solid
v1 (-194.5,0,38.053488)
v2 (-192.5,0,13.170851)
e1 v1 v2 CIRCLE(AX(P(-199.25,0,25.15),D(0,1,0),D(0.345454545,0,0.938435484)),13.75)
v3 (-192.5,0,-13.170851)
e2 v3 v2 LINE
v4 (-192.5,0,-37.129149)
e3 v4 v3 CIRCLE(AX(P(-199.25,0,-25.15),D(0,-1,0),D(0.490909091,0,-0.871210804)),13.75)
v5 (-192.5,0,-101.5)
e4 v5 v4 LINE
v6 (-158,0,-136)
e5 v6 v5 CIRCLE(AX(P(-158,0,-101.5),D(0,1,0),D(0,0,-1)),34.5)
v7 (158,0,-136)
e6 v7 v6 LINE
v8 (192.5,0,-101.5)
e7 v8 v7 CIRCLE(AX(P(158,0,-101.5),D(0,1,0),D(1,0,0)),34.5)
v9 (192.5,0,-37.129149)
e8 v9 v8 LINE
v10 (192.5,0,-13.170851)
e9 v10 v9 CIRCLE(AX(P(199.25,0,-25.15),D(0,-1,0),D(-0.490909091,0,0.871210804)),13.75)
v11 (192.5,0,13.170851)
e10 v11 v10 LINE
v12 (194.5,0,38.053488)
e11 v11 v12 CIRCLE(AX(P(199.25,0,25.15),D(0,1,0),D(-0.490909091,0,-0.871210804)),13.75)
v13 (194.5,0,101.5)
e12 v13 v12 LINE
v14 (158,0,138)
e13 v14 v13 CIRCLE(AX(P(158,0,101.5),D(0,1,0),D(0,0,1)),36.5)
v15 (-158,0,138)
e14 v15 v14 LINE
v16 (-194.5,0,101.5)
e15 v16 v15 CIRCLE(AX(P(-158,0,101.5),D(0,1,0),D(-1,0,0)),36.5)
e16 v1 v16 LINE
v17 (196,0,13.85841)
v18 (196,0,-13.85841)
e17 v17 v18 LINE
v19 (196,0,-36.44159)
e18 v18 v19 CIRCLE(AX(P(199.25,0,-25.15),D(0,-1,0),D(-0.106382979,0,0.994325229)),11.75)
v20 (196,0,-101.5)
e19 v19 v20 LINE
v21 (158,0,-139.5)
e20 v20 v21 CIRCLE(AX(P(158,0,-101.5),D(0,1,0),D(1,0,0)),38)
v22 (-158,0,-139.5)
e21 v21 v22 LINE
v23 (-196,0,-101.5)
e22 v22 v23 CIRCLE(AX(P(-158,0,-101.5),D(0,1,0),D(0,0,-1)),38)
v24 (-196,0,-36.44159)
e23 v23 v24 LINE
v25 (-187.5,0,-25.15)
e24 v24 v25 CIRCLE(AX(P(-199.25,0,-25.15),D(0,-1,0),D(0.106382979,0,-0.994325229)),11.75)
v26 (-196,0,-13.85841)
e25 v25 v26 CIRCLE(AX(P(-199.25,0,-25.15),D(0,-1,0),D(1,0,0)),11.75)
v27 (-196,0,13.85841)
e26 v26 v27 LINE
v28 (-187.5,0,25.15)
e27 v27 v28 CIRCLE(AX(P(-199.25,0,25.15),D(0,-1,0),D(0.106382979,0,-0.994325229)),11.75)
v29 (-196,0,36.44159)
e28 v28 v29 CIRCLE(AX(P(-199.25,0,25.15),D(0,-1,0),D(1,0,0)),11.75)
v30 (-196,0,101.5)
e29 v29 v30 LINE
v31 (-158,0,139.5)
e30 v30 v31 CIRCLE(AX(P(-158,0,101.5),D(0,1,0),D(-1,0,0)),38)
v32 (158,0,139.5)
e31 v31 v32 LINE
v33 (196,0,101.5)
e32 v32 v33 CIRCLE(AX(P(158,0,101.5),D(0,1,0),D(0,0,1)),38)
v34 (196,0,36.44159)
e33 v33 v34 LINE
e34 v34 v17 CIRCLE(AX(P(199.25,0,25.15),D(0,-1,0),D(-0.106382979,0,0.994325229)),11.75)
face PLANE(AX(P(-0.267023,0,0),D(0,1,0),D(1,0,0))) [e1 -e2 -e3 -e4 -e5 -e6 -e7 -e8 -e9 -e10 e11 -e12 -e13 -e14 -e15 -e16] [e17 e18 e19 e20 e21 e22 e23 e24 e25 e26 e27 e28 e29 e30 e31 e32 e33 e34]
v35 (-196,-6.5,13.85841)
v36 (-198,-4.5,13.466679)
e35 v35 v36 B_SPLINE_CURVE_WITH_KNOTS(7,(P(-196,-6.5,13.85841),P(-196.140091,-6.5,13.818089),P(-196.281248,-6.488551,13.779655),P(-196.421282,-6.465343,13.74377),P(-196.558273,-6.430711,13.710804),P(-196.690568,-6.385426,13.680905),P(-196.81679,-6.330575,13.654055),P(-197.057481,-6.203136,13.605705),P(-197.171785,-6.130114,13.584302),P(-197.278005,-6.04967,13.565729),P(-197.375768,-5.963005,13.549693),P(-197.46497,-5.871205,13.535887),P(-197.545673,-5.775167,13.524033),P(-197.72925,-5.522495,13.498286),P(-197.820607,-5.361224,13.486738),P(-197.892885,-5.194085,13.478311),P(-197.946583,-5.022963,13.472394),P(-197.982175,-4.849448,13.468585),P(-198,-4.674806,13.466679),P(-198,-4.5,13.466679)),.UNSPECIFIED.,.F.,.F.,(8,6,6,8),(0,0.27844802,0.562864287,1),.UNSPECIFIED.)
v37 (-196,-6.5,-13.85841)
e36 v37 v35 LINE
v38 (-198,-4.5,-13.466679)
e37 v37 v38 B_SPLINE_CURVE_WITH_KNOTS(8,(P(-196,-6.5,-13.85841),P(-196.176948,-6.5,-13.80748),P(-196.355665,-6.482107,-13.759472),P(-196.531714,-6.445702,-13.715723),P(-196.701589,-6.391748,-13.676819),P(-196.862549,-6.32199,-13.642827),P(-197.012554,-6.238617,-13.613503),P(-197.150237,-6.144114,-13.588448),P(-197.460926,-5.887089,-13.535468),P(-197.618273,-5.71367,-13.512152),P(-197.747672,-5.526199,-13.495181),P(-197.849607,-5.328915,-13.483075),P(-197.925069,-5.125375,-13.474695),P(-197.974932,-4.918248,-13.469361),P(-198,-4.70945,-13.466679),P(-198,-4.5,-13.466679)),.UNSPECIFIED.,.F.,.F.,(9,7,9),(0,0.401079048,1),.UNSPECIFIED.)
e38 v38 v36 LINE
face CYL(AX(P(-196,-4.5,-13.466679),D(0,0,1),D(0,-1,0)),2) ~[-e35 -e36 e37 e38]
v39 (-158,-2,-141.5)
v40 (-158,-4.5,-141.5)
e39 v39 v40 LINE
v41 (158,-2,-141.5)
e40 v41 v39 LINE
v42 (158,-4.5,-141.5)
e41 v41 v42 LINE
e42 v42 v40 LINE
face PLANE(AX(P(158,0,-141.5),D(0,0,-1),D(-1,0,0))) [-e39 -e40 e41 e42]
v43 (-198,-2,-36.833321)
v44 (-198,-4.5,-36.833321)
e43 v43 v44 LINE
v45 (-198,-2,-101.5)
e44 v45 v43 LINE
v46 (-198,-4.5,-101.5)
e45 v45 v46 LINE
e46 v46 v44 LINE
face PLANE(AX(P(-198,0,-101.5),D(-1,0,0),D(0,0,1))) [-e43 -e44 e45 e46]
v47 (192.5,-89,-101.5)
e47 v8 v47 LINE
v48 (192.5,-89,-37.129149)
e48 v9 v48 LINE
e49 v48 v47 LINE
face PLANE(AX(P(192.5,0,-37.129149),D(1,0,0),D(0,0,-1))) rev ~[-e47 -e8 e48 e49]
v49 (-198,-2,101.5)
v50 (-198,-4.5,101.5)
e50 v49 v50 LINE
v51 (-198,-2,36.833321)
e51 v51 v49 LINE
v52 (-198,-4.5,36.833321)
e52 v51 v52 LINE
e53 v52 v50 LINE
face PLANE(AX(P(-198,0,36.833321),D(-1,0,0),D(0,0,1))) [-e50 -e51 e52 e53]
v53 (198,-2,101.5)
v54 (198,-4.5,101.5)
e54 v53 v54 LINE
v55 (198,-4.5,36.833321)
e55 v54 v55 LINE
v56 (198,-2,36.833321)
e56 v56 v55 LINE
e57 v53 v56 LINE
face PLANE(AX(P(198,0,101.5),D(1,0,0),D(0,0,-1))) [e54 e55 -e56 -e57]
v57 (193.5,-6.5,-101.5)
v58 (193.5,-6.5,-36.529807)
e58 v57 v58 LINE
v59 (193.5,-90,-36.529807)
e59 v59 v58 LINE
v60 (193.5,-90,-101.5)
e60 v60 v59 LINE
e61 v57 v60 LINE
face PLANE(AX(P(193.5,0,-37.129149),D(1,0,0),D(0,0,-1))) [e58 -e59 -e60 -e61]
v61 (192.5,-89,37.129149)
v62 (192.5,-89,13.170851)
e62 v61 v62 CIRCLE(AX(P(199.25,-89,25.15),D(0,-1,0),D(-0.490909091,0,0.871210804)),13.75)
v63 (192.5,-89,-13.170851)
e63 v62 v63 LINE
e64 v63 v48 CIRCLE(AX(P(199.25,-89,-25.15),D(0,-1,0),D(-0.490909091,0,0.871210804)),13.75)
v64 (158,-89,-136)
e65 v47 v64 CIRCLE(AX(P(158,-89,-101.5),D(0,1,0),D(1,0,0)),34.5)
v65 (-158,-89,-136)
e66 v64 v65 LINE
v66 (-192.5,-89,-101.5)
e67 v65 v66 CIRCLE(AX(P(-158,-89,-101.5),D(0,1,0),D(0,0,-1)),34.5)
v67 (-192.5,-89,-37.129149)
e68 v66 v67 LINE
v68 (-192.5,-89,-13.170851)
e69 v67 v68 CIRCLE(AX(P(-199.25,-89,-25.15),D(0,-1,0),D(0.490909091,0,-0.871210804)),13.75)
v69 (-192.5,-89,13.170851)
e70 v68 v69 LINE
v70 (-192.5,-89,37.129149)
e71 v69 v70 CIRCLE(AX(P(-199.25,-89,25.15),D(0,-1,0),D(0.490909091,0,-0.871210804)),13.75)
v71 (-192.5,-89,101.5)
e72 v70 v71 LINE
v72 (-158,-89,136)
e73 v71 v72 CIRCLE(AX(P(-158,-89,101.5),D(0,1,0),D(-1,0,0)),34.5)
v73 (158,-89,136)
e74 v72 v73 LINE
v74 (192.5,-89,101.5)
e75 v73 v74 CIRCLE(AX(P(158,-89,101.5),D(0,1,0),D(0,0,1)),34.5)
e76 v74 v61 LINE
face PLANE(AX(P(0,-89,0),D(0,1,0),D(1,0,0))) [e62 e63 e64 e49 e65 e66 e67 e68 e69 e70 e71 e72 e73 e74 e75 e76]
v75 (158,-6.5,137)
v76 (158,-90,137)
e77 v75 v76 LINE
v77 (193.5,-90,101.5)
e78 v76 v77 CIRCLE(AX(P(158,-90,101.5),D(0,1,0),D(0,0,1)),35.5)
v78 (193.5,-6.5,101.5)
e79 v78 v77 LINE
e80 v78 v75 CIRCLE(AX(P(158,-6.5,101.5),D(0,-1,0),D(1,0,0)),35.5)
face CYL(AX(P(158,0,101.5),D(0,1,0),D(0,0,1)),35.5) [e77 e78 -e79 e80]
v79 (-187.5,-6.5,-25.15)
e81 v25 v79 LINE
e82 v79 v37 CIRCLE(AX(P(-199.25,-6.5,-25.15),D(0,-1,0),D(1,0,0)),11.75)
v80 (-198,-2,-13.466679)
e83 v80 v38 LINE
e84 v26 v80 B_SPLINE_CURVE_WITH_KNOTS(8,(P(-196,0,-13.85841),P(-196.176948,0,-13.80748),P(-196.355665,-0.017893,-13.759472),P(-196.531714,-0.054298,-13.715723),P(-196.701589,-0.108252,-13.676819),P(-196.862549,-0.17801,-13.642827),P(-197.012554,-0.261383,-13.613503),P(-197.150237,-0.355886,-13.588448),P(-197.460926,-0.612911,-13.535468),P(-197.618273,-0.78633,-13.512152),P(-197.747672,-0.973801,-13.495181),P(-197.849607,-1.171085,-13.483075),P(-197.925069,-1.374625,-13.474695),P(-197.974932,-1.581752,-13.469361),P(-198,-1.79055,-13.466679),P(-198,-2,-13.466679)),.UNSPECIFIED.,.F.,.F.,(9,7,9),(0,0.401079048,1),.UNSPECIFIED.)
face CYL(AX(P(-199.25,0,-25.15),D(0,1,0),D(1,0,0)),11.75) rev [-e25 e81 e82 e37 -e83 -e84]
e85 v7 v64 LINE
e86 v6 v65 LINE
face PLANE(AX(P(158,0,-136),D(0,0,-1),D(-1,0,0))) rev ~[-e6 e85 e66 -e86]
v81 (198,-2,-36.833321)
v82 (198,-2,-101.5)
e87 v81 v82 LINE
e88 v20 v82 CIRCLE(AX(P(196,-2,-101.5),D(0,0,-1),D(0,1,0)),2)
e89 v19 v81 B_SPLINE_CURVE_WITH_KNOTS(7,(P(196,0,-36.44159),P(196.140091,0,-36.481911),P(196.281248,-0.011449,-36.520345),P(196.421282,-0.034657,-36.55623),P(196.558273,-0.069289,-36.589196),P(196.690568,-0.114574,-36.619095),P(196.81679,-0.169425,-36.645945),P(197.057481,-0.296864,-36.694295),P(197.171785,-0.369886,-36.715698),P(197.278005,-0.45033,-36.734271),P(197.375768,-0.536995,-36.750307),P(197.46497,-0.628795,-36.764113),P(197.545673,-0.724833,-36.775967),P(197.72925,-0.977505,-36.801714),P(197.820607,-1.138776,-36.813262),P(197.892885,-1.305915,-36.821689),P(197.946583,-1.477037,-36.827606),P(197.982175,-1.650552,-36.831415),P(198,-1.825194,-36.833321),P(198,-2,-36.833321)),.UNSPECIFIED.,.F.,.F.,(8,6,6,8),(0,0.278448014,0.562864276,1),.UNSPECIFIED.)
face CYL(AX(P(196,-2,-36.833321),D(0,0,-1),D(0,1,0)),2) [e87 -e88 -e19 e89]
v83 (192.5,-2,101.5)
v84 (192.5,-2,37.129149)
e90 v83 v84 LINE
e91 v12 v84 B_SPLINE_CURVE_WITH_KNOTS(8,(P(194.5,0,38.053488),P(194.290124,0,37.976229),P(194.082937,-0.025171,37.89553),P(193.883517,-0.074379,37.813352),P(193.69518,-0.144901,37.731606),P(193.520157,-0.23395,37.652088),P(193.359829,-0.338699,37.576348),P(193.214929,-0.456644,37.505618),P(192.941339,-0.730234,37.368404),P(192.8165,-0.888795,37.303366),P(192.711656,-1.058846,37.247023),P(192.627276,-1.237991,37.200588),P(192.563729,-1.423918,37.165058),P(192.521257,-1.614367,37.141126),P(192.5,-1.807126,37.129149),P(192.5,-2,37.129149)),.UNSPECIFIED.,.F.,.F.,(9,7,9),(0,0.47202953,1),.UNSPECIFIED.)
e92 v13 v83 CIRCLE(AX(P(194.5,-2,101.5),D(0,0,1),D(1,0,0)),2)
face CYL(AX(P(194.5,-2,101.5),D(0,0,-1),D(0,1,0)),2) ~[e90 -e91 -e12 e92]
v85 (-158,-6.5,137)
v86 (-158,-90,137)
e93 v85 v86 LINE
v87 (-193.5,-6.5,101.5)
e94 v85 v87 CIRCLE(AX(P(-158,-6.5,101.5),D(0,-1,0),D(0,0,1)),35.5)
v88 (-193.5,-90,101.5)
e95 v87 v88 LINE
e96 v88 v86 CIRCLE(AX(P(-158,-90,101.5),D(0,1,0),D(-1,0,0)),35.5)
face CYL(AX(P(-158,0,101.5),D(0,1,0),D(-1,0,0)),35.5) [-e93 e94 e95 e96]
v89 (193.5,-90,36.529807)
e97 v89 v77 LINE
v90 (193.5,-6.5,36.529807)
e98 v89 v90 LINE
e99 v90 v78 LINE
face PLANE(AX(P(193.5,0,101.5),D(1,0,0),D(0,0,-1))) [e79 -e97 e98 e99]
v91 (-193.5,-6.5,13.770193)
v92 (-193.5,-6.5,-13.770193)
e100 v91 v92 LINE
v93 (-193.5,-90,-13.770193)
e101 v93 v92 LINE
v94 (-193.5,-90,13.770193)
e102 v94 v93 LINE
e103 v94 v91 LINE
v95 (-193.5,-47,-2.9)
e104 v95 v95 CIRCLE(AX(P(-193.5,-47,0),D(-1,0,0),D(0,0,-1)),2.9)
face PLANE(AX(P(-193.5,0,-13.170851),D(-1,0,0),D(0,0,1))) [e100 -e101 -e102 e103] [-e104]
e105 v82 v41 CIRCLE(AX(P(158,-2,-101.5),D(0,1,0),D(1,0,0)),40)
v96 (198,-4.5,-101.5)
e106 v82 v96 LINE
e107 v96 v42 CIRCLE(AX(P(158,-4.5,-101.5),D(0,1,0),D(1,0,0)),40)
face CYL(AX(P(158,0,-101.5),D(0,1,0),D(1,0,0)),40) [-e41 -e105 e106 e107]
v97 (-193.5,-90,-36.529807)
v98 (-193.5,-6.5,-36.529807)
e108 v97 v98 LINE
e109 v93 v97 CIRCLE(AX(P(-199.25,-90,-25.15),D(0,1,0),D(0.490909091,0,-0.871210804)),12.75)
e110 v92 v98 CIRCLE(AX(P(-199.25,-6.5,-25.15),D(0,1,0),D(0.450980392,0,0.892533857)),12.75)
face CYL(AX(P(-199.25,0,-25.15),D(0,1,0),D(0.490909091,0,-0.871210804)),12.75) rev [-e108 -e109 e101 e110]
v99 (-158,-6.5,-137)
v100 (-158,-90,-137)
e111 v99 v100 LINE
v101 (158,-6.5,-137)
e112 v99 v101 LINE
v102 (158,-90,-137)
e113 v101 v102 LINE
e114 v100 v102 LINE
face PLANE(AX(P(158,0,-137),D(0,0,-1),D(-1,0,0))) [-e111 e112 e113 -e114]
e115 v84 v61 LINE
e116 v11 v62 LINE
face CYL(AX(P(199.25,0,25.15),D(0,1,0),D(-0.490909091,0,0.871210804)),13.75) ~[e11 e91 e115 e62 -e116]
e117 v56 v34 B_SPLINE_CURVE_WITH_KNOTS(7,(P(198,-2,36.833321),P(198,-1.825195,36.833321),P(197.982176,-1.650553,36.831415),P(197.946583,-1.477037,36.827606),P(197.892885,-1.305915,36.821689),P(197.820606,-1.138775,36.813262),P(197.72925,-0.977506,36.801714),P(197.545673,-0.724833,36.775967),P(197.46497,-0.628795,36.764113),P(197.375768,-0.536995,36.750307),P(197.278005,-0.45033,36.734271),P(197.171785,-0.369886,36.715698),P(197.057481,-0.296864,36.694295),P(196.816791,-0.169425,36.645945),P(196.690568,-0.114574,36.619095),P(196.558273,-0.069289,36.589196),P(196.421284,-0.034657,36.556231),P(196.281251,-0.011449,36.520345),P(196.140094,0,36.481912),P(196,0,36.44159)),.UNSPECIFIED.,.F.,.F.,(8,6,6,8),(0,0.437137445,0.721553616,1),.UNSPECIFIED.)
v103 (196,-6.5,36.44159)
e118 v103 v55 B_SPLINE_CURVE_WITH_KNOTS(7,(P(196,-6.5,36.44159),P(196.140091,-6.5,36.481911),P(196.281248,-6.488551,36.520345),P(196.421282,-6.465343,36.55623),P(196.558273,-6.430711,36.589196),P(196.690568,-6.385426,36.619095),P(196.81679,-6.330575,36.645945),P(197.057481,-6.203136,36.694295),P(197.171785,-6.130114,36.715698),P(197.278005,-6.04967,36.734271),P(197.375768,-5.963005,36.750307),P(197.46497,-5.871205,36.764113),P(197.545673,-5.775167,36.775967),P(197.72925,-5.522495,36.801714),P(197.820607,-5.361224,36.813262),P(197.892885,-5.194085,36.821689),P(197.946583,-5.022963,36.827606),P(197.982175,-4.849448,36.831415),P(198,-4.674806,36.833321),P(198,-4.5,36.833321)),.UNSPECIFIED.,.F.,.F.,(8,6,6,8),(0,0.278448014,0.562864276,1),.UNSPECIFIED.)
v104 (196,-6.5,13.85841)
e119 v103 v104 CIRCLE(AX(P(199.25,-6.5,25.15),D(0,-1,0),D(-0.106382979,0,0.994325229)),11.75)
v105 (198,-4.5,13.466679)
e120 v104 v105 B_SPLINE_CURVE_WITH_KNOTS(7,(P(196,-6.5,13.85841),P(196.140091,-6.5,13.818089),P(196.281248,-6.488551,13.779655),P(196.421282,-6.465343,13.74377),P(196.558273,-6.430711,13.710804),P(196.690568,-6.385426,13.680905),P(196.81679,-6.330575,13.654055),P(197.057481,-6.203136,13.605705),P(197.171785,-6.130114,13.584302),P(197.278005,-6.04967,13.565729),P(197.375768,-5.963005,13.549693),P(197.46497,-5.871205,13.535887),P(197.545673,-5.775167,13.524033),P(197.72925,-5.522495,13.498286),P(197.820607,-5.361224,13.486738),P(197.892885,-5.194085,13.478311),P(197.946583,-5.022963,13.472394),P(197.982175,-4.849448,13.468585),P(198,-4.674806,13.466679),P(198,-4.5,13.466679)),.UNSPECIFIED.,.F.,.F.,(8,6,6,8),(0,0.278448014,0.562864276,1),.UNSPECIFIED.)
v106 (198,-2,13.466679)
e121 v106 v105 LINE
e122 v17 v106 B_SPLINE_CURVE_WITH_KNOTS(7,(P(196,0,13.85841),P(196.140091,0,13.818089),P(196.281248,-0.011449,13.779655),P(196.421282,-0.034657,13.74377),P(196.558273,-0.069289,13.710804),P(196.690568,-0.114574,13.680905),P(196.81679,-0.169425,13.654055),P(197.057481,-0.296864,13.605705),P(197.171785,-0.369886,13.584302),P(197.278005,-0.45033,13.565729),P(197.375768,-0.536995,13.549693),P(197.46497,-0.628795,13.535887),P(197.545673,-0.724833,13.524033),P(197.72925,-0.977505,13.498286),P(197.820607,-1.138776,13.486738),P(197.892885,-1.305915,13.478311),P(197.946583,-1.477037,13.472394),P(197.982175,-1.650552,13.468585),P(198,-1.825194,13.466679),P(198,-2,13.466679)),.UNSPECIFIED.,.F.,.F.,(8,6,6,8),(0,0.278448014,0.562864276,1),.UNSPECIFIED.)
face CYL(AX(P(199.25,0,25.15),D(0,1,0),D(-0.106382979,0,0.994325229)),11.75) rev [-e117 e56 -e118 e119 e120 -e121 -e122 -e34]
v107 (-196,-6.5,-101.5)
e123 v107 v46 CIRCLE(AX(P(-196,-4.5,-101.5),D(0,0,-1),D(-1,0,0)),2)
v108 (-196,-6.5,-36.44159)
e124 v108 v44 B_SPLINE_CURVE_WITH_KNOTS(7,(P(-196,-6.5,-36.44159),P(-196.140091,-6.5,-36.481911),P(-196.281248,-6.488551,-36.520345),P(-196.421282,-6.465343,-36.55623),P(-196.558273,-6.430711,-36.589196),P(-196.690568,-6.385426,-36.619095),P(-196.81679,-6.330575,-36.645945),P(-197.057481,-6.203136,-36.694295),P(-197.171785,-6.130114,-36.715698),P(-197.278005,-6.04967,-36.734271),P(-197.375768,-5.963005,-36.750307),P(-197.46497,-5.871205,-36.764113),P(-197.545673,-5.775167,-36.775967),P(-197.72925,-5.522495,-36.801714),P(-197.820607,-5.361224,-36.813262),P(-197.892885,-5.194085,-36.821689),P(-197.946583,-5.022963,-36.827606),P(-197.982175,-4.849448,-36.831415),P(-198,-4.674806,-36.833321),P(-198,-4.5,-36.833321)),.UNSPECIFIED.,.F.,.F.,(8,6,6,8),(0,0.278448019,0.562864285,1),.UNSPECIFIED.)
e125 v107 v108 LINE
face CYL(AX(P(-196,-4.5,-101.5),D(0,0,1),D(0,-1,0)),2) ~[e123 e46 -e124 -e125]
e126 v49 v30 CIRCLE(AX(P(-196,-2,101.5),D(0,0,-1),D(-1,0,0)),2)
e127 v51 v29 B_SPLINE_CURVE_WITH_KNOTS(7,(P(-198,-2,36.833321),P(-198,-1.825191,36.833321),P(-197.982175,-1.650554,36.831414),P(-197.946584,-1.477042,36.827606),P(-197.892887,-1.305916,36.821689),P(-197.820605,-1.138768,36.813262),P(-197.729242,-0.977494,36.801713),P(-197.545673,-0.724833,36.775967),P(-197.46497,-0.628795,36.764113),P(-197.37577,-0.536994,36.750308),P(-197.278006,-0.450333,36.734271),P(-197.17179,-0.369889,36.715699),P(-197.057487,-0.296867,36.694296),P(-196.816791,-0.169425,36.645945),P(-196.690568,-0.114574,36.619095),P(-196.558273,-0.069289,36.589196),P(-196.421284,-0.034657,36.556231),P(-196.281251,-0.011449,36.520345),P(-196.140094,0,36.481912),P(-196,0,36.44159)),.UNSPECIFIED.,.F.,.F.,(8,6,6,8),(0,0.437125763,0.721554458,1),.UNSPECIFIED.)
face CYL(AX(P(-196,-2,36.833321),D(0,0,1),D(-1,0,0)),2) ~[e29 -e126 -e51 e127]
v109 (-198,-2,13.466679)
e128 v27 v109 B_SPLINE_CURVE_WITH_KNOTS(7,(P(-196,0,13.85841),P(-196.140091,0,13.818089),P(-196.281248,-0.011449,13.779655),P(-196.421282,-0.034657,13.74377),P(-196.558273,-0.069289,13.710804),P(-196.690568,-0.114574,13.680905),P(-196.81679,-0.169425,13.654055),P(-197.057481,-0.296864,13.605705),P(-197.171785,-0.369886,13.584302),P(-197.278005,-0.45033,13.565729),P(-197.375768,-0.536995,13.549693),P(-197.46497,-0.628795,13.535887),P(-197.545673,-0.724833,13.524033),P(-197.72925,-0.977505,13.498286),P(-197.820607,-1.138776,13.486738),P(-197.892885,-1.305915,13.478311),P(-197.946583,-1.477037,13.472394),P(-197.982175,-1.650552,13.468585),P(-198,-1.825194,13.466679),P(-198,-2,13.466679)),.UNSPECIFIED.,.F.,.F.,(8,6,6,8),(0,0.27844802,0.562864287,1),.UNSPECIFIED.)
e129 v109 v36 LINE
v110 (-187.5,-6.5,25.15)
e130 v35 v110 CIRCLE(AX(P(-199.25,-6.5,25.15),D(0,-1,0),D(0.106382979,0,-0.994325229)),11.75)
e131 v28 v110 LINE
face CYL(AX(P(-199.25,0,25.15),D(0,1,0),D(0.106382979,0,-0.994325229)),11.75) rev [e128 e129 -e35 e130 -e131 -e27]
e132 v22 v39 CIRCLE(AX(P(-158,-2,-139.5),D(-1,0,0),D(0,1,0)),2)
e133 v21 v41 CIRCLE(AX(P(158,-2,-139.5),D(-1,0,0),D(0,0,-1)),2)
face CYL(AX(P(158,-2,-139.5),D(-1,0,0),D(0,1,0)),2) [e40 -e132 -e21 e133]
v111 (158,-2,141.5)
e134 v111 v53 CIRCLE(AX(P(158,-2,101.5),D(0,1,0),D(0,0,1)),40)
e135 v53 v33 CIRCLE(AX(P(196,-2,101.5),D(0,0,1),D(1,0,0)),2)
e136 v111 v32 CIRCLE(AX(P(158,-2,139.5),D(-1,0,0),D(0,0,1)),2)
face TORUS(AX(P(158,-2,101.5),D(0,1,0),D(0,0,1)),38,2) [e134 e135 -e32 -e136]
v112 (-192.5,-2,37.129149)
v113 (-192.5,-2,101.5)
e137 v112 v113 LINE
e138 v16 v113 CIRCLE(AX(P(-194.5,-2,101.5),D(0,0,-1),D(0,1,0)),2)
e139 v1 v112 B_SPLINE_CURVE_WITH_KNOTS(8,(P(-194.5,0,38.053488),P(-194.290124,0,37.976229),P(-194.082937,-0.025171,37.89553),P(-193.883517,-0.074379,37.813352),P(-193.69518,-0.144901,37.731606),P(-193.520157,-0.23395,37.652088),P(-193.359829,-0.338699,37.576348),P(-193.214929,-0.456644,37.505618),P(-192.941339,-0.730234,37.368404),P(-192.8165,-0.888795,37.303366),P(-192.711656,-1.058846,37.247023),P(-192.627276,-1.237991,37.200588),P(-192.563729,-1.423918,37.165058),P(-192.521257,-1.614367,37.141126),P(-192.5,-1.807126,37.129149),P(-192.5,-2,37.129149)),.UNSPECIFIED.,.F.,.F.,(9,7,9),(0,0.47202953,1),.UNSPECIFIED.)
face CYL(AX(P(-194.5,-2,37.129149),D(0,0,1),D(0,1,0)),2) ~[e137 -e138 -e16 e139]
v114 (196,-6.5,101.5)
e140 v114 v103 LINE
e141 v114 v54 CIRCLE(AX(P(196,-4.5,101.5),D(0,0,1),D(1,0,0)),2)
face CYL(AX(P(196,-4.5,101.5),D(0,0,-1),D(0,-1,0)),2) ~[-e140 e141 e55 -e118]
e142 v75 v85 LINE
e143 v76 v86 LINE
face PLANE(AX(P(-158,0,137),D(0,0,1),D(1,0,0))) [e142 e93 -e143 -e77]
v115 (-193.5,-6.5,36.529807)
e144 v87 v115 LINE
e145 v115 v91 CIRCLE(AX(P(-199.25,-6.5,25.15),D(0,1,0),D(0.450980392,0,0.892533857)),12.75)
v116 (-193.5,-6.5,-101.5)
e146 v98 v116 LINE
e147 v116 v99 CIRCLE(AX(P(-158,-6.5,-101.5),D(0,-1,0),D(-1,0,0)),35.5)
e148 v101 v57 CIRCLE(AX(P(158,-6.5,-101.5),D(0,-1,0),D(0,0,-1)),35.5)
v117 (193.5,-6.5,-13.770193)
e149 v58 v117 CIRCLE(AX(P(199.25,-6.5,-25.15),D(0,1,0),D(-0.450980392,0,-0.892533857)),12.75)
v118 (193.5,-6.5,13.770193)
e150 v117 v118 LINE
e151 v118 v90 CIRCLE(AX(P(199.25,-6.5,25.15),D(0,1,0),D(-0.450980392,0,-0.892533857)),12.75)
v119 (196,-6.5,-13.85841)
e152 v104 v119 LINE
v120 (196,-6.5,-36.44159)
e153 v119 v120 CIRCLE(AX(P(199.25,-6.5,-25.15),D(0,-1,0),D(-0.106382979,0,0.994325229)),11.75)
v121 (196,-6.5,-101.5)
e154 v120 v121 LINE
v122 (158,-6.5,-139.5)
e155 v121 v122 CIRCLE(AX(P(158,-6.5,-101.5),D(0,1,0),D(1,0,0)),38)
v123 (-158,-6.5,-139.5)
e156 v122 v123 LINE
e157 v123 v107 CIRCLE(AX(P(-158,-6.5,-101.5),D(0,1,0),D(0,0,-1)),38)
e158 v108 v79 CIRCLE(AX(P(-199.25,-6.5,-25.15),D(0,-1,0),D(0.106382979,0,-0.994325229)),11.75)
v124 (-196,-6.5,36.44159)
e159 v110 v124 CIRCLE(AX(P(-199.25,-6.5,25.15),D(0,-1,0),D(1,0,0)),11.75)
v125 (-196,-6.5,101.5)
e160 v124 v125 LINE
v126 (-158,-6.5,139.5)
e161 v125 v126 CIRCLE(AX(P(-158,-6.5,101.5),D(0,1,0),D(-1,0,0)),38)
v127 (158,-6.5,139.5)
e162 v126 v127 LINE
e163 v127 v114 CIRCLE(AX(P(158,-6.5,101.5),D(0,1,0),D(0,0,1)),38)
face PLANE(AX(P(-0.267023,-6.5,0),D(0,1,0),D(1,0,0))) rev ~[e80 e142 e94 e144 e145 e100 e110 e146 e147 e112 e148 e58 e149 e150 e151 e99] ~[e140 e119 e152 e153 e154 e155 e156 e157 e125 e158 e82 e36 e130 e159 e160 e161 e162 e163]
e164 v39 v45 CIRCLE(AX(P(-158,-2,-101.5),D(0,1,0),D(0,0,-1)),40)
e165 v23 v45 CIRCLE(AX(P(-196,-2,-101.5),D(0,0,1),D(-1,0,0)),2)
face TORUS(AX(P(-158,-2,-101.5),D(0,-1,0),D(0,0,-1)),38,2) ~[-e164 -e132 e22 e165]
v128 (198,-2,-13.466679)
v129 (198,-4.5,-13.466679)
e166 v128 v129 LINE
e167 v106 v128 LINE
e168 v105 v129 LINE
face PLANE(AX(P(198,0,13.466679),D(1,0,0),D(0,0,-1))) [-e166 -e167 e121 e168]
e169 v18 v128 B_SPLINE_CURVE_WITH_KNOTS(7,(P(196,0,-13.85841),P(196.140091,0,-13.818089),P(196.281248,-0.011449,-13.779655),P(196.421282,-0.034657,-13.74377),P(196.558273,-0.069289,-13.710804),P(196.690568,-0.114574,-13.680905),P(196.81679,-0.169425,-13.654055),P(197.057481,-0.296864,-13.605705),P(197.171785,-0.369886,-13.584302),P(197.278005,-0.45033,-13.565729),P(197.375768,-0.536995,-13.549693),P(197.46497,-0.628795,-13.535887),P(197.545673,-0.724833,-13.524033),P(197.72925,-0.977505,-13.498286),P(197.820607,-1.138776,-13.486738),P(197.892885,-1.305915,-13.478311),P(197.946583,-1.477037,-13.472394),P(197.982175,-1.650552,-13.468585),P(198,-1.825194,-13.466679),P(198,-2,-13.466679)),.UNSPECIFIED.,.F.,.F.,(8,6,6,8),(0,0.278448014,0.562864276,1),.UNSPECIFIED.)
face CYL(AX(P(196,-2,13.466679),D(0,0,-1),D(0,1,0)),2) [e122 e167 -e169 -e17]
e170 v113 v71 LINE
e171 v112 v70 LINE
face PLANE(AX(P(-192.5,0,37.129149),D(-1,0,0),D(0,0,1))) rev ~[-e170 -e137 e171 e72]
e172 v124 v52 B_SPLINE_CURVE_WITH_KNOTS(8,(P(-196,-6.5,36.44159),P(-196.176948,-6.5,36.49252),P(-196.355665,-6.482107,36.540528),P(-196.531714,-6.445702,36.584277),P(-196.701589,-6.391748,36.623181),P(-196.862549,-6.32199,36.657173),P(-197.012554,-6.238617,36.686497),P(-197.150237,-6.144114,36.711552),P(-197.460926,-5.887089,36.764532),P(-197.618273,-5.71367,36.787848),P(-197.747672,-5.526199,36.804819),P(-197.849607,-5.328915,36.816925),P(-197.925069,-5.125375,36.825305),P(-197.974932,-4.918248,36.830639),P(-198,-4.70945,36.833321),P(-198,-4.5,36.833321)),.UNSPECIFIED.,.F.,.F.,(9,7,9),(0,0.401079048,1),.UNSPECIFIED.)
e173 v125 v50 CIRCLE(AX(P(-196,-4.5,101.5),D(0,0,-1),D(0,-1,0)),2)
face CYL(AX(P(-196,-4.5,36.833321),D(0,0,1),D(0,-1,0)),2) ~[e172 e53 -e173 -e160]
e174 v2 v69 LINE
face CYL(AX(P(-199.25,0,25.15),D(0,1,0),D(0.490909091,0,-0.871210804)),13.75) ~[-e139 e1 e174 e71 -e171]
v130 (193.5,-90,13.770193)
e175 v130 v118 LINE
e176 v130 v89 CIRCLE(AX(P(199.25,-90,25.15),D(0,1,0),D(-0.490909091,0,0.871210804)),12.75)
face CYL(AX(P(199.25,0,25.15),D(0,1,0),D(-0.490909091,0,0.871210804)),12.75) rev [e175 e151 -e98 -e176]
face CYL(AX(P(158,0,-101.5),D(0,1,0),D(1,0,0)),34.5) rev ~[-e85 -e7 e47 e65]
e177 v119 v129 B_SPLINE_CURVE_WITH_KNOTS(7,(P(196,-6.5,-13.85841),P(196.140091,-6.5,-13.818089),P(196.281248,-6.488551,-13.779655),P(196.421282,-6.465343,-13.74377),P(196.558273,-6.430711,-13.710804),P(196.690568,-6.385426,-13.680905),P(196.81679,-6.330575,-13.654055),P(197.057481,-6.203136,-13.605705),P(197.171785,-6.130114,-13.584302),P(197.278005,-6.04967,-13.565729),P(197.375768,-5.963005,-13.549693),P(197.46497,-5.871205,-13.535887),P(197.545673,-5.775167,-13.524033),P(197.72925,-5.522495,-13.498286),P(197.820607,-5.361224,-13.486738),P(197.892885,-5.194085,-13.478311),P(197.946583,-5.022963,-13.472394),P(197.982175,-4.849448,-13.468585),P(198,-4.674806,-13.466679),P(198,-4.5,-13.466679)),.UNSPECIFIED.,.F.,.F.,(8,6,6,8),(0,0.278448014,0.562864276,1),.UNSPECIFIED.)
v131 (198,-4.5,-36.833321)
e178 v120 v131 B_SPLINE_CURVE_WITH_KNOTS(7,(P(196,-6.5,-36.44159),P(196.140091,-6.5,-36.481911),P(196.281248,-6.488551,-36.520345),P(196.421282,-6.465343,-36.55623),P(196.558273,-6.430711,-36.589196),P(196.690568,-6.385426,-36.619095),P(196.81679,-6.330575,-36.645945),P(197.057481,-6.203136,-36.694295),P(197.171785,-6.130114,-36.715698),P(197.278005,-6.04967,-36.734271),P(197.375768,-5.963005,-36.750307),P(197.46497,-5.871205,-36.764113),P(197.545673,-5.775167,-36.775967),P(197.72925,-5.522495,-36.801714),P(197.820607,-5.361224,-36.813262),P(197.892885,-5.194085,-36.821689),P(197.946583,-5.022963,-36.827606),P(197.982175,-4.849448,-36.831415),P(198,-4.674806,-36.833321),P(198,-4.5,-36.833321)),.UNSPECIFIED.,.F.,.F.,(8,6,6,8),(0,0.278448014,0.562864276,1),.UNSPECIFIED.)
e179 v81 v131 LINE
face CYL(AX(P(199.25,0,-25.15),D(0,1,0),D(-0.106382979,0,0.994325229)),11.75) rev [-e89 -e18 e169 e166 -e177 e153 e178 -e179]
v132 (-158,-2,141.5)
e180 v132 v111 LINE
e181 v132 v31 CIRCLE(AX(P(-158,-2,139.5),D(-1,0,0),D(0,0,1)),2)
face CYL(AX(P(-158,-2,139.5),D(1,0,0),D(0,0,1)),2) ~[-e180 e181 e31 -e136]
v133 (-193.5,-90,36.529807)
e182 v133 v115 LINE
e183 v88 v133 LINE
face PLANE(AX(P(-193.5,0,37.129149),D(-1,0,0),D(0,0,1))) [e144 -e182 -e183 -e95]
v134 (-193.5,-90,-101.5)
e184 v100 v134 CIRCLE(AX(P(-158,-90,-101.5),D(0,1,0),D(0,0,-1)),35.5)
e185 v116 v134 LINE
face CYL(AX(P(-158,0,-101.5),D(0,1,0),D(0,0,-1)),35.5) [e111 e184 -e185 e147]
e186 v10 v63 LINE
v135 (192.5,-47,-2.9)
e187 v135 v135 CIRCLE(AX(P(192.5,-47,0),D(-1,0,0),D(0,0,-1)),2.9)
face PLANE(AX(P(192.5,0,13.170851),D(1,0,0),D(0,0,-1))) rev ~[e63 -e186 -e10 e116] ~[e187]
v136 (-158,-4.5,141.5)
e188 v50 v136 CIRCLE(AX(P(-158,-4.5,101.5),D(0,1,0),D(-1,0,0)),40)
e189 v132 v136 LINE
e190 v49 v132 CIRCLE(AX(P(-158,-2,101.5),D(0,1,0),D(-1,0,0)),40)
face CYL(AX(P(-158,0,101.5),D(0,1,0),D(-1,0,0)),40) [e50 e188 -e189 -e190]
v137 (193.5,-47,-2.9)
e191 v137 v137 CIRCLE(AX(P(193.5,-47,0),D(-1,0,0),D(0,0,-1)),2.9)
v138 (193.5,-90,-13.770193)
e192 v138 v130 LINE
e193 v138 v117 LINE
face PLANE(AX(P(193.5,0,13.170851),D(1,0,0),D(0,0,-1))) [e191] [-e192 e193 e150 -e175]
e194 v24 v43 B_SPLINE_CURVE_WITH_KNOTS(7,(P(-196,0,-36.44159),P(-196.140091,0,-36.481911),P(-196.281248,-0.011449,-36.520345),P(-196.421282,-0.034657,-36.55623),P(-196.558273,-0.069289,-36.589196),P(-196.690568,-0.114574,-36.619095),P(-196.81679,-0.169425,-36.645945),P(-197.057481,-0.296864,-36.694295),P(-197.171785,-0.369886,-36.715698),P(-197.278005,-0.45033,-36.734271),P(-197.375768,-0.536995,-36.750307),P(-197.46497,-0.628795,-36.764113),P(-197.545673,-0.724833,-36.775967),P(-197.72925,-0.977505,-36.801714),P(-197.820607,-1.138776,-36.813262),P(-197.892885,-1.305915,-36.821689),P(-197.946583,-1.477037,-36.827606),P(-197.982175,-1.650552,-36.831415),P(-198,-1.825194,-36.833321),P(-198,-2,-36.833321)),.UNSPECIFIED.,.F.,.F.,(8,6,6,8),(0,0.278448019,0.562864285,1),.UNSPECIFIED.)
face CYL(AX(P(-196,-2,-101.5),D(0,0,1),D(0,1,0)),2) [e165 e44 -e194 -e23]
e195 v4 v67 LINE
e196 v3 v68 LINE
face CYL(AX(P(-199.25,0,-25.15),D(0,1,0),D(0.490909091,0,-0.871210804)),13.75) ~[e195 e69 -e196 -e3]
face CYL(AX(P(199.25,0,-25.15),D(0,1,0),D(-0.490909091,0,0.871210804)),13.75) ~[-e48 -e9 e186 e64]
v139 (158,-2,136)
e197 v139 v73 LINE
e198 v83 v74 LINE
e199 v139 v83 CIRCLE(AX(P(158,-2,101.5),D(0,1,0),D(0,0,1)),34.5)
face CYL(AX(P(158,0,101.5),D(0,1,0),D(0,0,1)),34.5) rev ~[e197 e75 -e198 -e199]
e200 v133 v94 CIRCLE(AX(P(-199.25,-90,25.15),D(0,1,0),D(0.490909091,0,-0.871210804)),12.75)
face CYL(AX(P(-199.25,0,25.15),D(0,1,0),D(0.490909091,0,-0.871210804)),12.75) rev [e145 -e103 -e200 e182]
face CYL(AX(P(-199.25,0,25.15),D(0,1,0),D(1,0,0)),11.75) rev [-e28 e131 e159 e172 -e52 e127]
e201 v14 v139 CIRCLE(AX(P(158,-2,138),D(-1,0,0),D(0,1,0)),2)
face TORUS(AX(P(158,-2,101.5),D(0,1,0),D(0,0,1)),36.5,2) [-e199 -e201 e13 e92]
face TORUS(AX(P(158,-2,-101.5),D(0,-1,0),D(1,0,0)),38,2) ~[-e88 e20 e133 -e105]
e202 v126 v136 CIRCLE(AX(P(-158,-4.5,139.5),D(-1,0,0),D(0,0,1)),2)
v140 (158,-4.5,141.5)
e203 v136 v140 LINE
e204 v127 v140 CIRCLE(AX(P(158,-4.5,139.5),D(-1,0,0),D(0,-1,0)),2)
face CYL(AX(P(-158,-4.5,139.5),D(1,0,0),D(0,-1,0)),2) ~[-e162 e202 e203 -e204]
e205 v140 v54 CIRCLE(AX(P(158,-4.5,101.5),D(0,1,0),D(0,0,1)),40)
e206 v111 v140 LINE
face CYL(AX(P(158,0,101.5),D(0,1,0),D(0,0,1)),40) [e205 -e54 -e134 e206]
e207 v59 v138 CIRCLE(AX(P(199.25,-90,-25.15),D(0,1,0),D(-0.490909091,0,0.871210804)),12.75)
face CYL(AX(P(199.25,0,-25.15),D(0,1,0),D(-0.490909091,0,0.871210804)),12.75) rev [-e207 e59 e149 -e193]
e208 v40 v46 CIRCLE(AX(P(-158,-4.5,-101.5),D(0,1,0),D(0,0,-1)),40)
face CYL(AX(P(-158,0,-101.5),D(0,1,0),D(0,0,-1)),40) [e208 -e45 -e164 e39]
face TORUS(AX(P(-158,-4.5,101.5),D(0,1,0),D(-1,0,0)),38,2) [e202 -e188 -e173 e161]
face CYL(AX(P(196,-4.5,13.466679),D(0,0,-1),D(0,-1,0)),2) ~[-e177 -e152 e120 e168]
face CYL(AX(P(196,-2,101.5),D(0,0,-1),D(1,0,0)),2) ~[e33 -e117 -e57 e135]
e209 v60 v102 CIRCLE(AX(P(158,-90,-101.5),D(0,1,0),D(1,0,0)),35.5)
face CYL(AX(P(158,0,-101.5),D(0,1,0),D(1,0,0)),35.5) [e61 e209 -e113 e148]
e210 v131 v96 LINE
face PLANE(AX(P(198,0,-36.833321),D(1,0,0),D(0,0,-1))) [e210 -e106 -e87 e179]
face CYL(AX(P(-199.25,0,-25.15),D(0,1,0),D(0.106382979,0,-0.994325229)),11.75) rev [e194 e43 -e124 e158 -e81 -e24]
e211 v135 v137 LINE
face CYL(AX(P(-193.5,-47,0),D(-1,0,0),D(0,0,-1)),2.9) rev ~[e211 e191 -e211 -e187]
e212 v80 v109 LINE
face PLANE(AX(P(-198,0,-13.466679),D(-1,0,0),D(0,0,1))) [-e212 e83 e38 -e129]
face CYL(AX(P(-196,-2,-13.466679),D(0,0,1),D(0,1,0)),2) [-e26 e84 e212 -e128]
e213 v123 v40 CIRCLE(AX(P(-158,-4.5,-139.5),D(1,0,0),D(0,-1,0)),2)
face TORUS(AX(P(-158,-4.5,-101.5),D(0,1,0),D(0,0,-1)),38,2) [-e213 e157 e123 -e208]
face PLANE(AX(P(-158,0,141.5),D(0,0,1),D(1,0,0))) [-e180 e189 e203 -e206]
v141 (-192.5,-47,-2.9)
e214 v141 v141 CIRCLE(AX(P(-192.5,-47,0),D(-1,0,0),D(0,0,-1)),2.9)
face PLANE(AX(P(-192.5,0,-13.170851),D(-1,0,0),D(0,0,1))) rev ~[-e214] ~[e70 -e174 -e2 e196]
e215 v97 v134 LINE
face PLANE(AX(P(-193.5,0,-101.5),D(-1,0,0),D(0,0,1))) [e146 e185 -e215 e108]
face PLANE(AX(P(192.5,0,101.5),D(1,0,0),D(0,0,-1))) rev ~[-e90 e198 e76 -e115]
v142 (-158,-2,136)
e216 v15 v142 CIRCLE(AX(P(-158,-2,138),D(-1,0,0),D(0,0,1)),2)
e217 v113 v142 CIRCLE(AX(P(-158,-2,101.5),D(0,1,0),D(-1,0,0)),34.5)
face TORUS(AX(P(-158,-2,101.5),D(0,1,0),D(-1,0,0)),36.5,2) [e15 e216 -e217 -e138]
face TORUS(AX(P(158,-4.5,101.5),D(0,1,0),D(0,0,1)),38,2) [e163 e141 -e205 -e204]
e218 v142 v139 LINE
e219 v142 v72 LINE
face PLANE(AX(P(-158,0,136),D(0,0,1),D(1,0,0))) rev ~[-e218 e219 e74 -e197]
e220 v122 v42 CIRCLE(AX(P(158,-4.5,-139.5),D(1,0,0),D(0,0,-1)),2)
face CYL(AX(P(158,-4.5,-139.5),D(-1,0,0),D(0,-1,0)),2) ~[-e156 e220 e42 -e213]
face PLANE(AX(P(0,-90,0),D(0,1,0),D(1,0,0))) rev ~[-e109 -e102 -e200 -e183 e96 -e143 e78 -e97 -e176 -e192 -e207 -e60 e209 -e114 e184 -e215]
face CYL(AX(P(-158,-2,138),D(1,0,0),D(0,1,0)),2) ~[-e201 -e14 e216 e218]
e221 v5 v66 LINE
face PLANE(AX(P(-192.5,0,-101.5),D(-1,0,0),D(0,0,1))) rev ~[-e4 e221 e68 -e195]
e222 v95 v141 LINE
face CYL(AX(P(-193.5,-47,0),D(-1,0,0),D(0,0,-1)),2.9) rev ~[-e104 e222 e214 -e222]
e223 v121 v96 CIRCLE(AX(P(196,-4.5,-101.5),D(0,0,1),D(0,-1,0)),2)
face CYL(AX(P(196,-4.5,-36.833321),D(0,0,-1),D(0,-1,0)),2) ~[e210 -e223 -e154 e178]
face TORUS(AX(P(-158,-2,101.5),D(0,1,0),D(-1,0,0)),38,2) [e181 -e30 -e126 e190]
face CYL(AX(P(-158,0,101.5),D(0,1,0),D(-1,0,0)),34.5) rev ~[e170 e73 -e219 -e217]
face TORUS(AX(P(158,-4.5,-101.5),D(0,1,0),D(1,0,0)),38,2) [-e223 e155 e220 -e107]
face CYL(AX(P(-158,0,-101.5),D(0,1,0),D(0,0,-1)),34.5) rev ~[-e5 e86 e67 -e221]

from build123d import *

# Parameters (mm, degrees)
BOSS_EXTRUDE1_DEPTH = 89
SHELL1_T            = 1
BOSS_EXTRUDE2_DEPTH = 6.5
FILLET1_R           = 2
SKETCH3_R           = 2.9
CUT_EXTRUDE1_DEPTH  = 426.904332073


with BuildPart() as part:
    # Sketch1 → Boss-Extrude1 (new body)
    with BuildSketch(Plane(origin=(0, 0, 0), x_dir=(1, 0, 0), z_dir=(0, 1, 0))):
        with BuildLine():
            Line((-192.5, -37.129148551), (-192.5, -101.5))
            ThreePointArc((-192.5, -101.5), (-182.395183951, -125.895183951), (-158, -136))
            Line((-158, -136), (158, -136))
            ThreePointArc((158, -136), (182.395183951, -125.895183951), (192.5, -101.5))
            Line((192.5, -101.5), (192.5, -37.129148551))
            ThreePointArc((192.5, -37.129148551), (185.5, -25.15), (192.5, -13.170851449))
            Line((192.5, -13.170851449), (192.5, 13.170851449))
            ThreePointArc((192.5, 13.170851449), (185.5, 25.15), (192.5, 37.129148551))
            Line((192.5, 37.129148551), (192.5, 101.5))
            ThreePointArc((192.5, 101.5), (182.395183951, 125.895183951), (158, 136))
            Line((158, 136), (-158, 136))
            ThreePointArc((-158, 136), (-182.395183951, 125.895183951), (-192.5, 101.5))
            Line((-192.5, 101.5), (-192.5, 37.129148551))
            ThreePointArc((-192.5, 37.129148551), (-185.5, 25.15), (-192.5, 13.170851449))
            Line((-192.5, 13.170851449), (-192.5, -13.170851449))
            ThreePointArc((-192.5, -13.170851449), (-185.5, -25.15), (-192.5, -37.129148551))
        make_face()
    extrude(amount=-BOSS_EXTRUDE1_DEPTH)

    # Shell1
    shell1_openings = [part.faces().sort_by_distance(p)[0] for p in [
        (0, 0, 0),
    ]]
    offset(amount=SHELL1_T, openings=shell1_openings, kind=Kind.INTERSECTION)

    # Sketch2 → Boss-Extrude2 (add)
    with BuildSketch(Plane(origin=(0, 0, 0), x_dir=(1, 0, 0), z_dir=(0, 1, 0))):
        with BuildLine():
            Line((-198, -36.833321446), (-198, -101.5))
            ThreePointArc((-198, -101.5), (-186.284271247, -129.784271247), (-158, -141.5))
            Line((-158, -141.5), (158, -141.5))
            ThreePointArc((158, -141.5), (186.284271247, -129.784271247), (198, -101.5))
            Line((198, -101.5), (198, -36.833321446))
            ThreePointArc((198, -36.833321446), (187.5, -25.15), (198, -13.466678554))
            Line((198, -13.466678554), (198, 13.466678554))
            ThreePointArc((198, 13.466678554), (187.5, 25.15), (198, 36.833321446))
            Line((198, 36.833321446), (198, 101.5))
            ThreePointArc((198, 101.5), (186.284271247, 129.784271247), (158, 141.5))
            Line((158, 141.5), (-158, 141.5))
            ThreePointArc((-158, 141.5), (-186.284271247, 129.784271247), (-198, 101.5))
            Line((-198, 101.5), (-198, 36.833321446))
            ThreePointArc((-198, 36.833321446), (-190.510720854, 33.004139036), (-187.5, 25.15))
            ThreePointArc((-187.5, 25.15), (-190.510720854, 17.295860964), (-198, 13.466678554))
            Line((-198, 13.466678554), (-198, -13.466678554))
            ThreePointArc((-198, -13.466678554), (-190.510720854, -17.295860964), (-187.5, -25.15))
            ThreePointArc((-187.5, -25.15), (-190.510720854, -33.004139036), (-198, -36.833321446))
        make_face()
        with BuildLine():
            ThreePointArc((-193.5, 13.770193323), (-186.5, 25.15), (-193.5, 36.529806677))
            Line((-193.5, 36.529806677), (-193.5, 101.5))
            ThreePointArc((-193.5, 101.5), (-183.102290732, 126.602290732), (-158, 137))
            Line((-158, 137), (158, 137))
            ThreePointArc((158, 137), (183.102290732, 126.602290732), (193.5, 101.5))
            Line((193.5, 101.5), (193.5, 36.529806677))
            ThreePointArc((193.5, 36.529806677), (186.5, 25.15), (193.5, 13.770193323))
            Line((193.5, 13.770193323), (193.5, -13.770193323))
            ThreePointArc((193.5, -13.770193323), (186.5, -25.15), (193.5, -36.529806677))
            Line((193.5, -36.529806677), (193.5, -101.5))
            ThreePointArc((193.5, -101.5), (183.102290732, -126.602290732), (158, -137))
            Line((158, -137), (-158, -137))
            ThreePointArc((-158, -137), (-183.102290732, -126.602290732), (-193.5, -101.5))
            Line((-193.5, -101.5), (-193.5, -36.529806677))
            ThreePointArc((-193.5, -36.529806677), (-186.5, -25.15), (-193.5, -13.770193323))
            Line((-193.5, -13.770193323), (-193.5, 13.770193323))
        make_face(mode=Mode.SUBTRACT)
    extrude(amount=-BOSS_EXTRUDE2_DEPTH)

    # Fillet1
    fillet1_edges = [part.edges().sort_by_distance(p)[0] for p in [
        (198, -6.5, 0),
        (198, -6.5, 69.166660723),
        (186.284271247, -6.5, 129.784271247),
        (0, -6.5, 141.5),
        (-186.284271247, -6.5, 129.784271247),
        (-198, 0, 69.166660723),
        (-198, 0, 0),
        (-198, 0, -69.166660723),
        (-186.284271247, -6.5, -129.784271247),
        (0, 0, -141.5),
        (186.284271247, -6.5, -129.784271247),
        (198, -6.5, -69.166660723),
        (-198, -6.5, 69.166660723),
        (-198, -6.5, 0),
        (-198, -6.5, -69.166660723),
        (0, -6.5, -141.5),
        (198, 0, -69.166660723),
        (186.284271247, 0, -129.784271247),
        (-186.284271247, 0, -129.784271247),
        (-186.284271247, 0, 129.784271247),
        (0, 0, 141.5),
        (186.284271247, 0, 129.784271247),
        (198, 0, 69.166660723),
        (198, 0, 0),
        (-182.395183951, 0, 125.895183951),
        (-192.5, 0, 69.314574275),
        (0, 0, 136),
        (182.395183951, 0, 125.895183951),
        (192.5, 0, 69.314574275),
    ]]
    fillet(fillet1_edges, radius=FILLET1_R)

    # Sketch3 → Cut-Extrude1 (cut, through all)
    with BuildSketch(Plane.ZY.offset(193.5)):
        with Locations(Location((0, -47, 0), (0, 0, 180))):
            Circle(SKETCH3_R)
    extrude(amount=-CUT_EXTRUDE1_DEPTH, mode=Mode.SUBTRACT)


solid = part.part
